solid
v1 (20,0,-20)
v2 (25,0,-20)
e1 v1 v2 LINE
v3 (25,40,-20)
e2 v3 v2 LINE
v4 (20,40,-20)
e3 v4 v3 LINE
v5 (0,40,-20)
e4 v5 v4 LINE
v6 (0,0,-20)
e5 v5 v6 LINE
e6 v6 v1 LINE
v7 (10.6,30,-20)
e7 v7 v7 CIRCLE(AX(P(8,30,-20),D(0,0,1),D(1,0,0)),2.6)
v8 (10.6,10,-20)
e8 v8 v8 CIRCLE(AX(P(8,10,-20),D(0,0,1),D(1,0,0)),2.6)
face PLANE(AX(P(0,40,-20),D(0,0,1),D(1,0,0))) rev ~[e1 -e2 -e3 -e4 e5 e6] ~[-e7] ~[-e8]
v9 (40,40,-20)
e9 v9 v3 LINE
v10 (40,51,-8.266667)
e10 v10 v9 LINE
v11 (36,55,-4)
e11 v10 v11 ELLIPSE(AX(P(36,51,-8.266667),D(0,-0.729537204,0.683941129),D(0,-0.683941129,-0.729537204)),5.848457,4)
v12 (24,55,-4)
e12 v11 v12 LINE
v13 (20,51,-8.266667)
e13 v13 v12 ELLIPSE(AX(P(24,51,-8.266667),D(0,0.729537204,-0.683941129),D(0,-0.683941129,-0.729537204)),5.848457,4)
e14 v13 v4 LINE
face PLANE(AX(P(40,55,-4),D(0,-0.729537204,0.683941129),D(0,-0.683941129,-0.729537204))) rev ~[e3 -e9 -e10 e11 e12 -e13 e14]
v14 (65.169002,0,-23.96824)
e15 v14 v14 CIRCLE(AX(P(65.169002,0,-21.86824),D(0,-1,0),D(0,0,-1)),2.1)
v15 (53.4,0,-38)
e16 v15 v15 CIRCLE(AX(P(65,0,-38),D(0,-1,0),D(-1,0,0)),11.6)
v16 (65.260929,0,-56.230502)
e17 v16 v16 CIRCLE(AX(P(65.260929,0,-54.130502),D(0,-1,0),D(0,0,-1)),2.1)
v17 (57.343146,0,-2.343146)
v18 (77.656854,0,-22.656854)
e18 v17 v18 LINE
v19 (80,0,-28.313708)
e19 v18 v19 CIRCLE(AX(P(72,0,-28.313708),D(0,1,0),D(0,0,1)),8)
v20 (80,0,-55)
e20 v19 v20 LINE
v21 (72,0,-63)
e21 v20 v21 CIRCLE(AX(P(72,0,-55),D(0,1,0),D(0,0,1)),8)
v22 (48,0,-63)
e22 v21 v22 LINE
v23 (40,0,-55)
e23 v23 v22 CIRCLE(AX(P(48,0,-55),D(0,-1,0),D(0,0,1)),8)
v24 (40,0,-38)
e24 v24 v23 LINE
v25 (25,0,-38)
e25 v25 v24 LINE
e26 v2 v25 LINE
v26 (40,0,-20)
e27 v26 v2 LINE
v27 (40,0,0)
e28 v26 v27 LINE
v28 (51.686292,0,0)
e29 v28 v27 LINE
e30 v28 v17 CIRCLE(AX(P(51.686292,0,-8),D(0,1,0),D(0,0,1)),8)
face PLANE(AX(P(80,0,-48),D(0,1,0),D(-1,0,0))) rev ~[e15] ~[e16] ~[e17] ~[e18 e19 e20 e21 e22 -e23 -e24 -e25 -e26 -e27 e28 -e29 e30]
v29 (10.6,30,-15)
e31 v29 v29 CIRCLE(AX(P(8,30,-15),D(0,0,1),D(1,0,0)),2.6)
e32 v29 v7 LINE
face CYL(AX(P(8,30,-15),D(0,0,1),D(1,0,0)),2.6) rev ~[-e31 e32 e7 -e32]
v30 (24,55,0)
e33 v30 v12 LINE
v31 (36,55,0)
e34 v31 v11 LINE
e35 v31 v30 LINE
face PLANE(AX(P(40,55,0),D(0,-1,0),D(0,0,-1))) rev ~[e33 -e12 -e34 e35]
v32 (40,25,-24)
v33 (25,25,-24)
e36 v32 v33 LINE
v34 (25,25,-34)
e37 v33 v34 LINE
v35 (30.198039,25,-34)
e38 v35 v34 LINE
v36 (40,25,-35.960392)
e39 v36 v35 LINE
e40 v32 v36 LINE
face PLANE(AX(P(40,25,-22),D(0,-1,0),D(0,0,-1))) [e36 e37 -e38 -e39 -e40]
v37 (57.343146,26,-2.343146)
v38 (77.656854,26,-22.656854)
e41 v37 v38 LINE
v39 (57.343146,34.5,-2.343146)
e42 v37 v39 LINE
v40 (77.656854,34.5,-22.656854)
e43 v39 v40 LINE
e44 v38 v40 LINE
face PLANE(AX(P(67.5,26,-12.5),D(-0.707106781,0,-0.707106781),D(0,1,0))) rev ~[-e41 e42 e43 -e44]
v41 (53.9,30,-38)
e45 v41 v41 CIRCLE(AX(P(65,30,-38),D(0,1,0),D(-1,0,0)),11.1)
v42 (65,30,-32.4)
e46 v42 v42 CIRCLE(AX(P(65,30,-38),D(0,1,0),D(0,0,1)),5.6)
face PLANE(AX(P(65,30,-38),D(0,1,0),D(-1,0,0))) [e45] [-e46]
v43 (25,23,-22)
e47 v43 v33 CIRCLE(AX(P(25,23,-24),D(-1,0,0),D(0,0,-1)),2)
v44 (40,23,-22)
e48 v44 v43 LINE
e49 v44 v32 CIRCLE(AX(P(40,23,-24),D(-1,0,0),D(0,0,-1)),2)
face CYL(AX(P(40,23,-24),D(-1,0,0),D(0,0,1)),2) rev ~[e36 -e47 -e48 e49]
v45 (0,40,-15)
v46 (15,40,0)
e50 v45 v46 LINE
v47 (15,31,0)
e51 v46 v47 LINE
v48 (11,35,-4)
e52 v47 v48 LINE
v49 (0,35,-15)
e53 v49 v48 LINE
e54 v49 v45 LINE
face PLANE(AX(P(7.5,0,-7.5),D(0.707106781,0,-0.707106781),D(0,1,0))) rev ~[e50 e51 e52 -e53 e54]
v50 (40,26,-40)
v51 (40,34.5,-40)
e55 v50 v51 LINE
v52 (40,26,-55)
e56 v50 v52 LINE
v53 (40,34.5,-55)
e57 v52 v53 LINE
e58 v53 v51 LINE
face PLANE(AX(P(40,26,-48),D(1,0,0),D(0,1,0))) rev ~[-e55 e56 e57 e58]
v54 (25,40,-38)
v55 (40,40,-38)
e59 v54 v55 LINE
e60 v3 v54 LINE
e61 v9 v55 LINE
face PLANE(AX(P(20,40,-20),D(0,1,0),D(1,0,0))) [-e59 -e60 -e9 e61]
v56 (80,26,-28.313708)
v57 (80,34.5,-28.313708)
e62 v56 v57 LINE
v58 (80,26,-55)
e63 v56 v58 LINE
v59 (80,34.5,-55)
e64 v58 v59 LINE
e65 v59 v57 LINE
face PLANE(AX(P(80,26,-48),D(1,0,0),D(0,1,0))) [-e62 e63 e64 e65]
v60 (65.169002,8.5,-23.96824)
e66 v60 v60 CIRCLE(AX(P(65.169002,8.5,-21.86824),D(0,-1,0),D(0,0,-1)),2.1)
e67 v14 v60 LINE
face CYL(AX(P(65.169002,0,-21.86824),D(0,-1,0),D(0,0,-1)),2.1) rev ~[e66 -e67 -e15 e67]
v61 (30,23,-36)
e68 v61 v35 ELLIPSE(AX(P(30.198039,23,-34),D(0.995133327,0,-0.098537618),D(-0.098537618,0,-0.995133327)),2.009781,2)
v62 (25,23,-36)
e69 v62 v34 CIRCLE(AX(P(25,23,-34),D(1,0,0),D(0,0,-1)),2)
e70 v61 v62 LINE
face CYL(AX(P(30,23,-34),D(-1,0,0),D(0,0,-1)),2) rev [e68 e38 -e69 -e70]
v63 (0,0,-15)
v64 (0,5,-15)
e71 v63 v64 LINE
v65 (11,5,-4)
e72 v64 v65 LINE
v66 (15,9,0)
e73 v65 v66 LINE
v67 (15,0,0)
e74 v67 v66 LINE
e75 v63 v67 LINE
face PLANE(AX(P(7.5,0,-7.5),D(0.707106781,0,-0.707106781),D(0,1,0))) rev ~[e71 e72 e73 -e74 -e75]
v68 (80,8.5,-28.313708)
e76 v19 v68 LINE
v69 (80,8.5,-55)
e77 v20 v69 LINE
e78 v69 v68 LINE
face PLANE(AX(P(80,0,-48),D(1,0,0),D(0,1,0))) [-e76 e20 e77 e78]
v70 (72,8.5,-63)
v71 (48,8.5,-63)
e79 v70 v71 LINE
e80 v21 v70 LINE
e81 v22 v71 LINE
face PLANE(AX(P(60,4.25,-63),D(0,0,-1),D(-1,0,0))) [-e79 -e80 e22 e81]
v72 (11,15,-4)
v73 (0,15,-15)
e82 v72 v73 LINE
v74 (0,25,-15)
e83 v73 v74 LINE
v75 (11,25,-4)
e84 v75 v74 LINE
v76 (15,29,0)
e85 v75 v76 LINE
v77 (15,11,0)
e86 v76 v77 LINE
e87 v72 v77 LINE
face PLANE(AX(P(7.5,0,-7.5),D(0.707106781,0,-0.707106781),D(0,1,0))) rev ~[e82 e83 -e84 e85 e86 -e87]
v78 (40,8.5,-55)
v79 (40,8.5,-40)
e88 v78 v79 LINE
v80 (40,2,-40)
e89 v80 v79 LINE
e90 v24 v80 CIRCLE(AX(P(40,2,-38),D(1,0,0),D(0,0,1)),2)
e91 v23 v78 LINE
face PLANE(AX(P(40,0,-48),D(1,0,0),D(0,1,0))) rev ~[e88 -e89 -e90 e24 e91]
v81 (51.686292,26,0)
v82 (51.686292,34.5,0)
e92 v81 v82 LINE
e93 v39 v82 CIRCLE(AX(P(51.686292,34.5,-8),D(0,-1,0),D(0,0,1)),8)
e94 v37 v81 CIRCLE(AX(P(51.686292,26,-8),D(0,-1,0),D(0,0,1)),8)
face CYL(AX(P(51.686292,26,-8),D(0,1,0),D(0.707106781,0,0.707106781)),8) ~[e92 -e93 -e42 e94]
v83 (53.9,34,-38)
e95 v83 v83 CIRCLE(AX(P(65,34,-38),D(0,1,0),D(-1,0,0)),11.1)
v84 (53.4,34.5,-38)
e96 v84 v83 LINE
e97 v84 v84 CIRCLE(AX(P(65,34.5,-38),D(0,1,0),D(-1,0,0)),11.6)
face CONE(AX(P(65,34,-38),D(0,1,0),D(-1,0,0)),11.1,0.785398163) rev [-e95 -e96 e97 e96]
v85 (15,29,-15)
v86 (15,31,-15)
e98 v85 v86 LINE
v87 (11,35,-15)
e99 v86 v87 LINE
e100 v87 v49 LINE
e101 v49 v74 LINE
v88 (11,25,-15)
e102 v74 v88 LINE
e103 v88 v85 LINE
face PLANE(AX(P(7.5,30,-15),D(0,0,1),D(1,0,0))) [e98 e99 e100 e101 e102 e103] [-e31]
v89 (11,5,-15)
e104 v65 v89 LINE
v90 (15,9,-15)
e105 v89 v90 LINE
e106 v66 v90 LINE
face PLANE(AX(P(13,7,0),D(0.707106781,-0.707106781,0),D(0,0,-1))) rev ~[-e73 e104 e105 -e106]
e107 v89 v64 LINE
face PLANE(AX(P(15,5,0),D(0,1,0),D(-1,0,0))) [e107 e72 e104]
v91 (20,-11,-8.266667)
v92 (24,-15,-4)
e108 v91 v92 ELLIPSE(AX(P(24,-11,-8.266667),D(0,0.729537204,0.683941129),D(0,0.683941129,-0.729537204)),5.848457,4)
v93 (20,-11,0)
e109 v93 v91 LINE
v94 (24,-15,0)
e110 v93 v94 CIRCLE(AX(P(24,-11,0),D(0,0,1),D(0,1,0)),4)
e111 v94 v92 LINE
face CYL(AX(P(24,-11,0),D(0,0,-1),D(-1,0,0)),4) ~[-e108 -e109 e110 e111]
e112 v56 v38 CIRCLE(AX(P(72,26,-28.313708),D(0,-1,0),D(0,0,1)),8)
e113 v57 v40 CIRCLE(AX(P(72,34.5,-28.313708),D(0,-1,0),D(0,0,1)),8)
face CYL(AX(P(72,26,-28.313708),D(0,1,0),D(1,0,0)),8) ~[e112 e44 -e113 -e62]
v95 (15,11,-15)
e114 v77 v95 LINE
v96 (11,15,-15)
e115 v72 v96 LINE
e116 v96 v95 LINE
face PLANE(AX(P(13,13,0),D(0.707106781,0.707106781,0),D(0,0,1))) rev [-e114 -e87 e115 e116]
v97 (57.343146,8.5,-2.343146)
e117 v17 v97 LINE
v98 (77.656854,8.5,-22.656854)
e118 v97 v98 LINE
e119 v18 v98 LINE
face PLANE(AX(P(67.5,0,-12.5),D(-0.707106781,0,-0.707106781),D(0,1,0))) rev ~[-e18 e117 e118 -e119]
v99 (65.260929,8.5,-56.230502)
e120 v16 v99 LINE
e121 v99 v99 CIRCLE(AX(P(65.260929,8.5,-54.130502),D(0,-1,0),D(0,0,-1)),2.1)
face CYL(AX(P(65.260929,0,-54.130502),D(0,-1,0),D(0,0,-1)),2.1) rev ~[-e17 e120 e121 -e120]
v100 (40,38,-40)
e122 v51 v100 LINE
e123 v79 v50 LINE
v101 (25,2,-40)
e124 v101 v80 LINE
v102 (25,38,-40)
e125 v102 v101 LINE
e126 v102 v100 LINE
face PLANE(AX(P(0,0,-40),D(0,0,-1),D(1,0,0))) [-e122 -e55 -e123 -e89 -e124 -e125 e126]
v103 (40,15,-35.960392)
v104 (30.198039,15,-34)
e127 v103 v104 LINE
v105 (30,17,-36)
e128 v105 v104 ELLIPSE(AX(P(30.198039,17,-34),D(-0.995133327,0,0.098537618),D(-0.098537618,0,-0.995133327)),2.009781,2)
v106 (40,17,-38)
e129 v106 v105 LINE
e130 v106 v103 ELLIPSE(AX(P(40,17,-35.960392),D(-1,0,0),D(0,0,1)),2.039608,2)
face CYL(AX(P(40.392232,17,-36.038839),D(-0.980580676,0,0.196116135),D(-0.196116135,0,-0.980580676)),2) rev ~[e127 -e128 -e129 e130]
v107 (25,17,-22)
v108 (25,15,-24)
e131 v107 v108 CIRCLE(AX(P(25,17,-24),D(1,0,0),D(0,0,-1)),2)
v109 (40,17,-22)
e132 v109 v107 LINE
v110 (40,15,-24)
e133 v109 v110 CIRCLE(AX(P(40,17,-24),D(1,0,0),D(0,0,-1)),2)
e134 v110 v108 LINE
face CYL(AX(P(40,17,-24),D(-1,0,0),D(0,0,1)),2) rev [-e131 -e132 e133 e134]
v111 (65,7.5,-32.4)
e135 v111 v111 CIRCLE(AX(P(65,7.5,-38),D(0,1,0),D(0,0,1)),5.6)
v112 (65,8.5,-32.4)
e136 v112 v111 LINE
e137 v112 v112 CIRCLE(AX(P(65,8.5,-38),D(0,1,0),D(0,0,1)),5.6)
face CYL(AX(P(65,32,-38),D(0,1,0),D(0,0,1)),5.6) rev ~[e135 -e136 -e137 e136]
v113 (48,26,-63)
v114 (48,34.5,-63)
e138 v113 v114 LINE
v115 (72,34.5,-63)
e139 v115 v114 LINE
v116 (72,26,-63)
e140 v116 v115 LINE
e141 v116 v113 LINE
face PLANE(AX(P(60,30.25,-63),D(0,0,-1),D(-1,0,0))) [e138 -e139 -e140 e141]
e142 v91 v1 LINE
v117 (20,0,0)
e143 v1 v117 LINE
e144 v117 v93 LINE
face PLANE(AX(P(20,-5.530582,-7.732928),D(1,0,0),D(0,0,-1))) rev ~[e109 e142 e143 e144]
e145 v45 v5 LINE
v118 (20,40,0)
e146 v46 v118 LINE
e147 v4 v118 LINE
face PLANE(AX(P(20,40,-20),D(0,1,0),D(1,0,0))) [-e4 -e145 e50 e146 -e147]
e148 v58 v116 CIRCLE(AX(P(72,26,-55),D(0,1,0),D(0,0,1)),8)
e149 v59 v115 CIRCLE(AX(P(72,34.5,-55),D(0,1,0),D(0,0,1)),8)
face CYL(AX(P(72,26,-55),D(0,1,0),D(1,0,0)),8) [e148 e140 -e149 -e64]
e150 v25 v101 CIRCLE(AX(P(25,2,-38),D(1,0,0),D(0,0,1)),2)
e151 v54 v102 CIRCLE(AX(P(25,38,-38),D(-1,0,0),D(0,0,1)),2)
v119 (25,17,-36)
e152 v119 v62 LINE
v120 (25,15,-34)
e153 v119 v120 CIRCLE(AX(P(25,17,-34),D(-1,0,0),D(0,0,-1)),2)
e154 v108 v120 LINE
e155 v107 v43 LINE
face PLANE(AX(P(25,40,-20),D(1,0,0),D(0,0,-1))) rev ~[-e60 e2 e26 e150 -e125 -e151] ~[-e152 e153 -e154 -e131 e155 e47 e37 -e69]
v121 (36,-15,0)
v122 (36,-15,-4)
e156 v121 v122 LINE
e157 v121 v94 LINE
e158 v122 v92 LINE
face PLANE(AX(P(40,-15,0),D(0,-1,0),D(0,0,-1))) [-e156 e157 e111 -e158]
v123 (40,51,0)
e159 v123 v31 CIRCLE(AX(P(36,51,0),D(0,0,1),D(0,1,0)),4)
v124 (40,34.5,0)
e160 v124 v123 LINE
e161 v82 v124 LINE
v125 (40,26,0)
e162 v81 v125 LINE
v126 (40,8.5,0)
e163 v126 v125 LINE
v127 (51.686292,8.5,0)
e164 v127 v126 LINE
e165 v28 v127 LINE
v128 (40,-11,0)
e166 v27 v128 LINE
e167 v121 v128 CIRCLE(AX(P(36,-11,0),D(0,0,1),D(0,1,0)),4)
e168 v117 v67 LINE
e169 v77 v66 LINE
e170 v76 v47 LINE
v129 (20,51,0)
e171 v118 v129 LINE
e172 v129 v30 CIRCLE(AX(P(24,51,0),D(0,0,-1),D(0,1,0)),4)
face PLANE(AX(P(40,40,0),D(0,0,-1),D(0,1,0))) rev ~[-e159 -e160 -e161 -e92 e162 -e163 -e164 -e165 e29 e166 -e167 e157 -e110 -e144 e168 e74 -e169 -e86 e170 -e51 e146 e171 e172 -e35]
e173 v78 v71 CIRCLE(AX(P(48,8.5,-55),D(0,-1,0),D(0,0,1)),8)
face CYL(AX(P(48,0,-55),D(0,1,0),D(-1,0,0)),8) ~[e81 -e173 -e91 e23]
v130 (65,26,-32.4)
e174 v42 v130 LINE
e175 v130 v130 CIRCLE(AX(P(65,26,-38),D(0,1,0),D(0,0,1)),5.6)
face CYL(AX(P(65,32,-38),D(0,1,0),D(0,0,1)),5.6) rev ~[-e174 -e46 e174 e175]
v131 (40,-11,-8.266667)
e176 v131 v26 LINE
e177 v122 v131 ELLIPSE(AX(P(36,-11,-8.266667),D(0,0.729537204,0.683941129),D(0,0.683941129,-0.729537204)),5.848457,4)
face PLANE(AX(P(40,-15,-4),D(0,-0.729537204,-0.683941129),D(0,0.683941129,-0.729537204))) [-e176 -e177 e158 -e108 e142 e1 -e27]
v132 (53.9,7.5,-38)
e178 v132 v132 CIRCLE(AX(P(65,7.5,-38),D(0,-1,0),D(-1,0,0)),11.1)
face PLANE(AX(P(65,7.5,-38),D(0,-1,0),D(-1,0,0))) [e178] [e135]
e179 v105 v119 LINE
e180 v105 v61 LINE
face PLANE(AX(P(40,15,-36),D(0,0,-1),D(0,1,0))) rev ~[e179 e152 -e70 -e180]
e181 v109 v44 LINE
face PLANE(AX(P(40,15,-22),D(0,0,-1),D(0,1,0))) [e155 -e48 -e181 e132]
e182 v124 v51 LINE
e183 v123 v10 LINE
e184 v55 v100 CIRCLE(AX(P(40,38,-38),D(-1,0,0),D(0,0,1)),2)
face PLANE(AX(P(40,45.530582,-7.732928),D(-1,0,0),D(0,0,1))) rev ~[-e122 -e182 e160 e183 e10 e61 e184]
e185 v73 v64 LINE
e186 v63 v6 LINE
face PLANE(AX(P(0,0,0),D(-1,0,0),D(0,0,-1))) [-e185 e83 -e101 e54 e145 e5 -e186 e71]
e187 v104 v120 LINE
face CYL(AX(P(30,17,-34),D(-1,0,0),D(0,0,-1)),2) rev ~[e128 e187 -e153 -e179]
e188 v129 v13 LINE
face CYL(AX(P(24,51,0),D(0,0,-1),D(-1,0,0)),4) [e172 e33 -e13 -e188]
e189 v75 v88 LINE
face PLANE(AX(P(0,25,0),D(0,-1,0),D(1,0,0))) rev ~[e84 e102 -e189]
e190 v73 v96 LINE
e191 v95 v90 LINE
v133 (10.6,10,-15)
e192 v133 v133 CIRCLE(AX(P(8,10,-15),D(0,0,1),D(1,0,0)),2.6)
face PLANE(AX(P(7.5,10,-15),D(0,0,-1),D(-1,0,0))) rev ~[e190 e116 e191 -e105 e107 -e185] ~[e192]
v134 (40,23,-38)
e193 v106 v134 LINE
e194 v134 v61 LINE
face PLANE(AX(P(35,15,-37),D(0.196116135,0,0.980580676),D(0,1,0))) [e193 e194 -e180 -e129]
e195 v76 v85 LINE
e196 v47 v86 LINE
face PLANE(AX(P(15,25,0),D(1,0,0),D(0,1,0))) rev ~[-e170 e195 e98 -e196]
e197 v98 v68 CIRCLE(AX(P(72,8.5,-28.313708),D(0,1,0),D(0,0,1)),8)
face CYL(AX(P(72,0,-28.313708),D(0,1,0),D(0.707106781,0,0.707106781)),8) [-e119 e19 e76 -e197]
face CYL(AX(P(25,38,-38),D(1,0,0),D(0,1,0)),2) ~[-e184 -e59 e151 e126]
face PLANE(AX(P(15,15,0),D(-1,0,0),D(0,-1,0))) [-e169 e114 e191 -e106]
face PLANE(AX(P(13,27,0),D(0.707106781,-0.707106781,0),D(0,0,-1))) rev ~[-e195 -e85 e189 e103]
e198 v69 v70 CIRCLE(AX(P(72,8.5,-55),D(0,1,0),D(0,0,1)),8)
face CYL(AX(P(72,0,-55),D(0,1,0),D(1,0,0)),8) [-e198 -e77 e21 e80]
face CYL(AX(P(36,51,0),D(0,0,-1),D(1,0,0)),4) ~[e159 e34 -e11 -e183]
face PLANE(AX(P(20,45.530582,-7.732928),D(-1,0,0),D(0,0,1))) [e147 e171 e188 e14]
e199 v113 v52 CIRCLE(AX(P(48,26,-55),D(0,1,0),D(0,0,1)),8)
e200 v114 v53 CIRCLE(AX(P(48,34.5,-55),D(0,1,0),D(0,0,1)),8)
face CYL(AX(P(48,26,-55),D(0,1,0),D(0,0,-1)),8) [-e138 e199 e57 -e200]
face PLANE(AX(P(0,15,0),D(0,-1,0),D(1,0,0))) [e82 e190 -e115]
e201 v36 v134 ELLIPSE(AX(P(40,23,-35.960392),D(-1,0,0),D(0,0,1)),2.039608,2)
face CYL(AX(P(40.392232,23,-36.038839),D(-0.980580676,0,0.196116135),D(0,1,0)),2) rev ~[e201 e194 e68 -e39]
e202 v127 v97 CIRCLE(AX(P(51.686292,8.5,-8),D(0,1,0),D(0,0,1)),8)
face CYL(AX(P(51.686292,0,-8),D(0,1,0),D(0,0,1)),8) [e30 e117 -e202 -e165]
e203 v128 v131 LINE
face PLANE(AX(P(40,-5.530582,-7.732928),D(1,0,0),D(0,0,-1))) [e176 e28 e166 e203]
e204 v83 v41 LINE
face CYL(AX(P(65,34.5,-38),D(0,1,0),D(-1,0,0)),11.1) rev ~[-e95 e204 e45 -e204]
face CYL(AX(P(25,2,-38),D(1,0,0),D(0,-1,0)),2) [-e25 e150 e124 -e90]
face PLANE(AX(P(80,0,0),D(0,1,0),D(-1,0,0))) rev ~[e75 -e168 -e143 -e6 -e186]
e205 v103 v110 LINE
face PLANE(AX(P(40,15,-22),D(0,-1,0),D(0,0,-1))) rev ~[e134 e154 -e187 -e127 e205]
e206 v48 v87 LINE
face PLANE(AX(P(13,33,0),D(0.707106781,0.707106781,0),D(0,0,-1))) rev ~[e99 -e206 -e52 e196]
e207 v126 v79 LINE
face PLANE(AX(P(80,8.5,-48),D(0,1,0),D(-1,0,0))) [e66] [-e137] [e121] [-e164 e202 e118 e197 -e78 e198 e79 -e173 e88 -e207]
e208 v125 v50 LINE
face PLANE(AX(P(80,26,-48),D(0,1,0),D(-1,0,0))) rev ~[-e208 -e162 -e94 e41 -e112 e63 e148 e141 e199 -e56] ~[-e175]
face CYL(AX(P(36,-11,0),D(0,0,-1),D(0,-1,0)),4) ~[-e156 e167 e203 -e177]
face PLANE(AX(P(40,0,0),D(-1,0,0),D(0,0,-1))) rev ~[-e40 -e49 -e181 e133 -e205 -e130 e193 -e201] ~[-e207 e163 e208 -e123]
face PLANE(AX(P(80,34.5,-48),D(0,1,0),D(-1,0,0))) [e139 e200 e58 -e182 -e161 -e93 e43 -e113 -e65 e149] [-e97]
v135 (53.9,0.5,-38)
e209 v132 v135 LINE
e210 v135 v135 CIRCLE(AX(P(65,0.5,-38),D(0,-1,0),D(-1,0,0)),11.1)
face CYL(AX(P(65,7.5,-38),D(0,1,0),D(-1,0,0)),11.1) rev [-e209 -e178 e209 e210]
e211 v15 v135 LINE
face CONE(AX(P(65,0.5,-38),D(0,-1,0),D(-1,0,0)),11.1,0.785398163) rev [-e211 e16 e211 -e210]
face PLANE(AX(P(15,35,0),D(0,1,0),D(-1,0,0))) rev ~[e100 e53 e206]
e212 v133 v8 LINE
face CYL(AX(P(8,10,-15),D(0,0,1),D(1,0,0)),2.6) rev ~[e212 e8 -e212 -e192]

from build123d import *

# Parameters (mm, degrees)
SKETCH1_W                = 40
SKETCH1_H                = 40
BOSS_EXTRUDE1_DEPTH      = 40
SKETCH2_W                = 25
SKETCH2_H                = 20
CUT_EXTRUDE1_DEPTH       = 40
CHAMFER1_SIZE            = 15
CUT_EXTRUDE2_DEPTH       = 15
CHAMFER2_SIZE            = 4
SKETCH4_R                = 2.6
CUT_EXTRUDE3_DEPTH       = 17
BOSS_EXTRUDE2_DEPTH      = 8
BOSS_EXTRUDE2_DEPTH_BACK = 40
SKETCH5_W                = 40
SKETCH5_H                = 8.5
SKETCH10_W               = 14
SKETCH10_H               = 10
CUT_EXTRUDE5_DEPTH       = 26
SKETCH8_R                = 5.6
CUT_EXTRUDE4_DEPTH       = 34
BOSS_EXTRUDE3_DEPTH      = 20
FILLET3_R                = 4
FILLET4_R                = 2
CHAMFER7_SIZE            = 25
CHAMFER8_SIZE            = 2
CHAMFER8_SIZE2           = 10
FILLET7_R                = 2
SKETCH14_W               = 40
SKETCH14_H               = 8.5
BOSS_EXTRUDE4_DEPTH      = 15
SKETCH16_W               = 40
SKETCH16_H               = 8.5
BOSS_EXTRUDE5_DEPTH      = 15
SKETCH12_R               = 11.1
CUT_EXTRUDE6_DEPTH       = 4.5
CUT_EXTRUDE7_START       = -7.5
SKETCH13_R               = 11.1
CUT_EXTRUDE7_DEPTH       = 7.5
SKETCH15_R               = 2.1
CUT_EXTRUDE8_DEPTH       = 10
CHAMFER10_SIZE           = 0.5
FILLET8_R                = 8


with BuildPart() as part:
    # Sketch1 → Boss-Extrude1 (new body)
    with BuildSketch(Plane(origin=(0, 0, 0), x_dir=(1, 0, 0), z_dir=(0, 1, 0))):
        with Locations((20, 20)):
            Rectangle(SKETCH1_W, SKETCH1_H)
    extrude(amount=BOSS_EXTRUDE1_DEPTH)

    # Sketch2 → Cut-Extrude1 (cut)
    with BuildSketch(Plane(origin=(0, 40, 0), x_dir=(1, 0, 0), z_dir=(0, 1, 0))):
        with Locations((12.5, 30)):
            Rectangle(SKETCH2_W, SKETCH2_H)
    extrude(amount=-CUT_EXTRUDE1_DEPTH, mode=Mode.SUBTRACT)

    # Chamfer1
    chamfer1_edges = [part.edges().sort_by_distance(p)[0] for p in [
        (0, 20, 0),
    ]]
    chamfer(chamfer1_edges, length=CHAMFER1_SIZE)

    # Sketch3 → Cut-Extrude2 (cut)
    with BuildSketch(Plane.XY):
        Polygon((0, 10), (0, 15), (15, 15), (15, 5), (0, 5), align=None)
        Polygon((0, 30), (0, 25), (15, 25), (15, 35), (0, 35), align=None)
    extrude(amount=-CUT_EXTRUDE2_DEPTH, mode=Mode.SUBTRACT)

    # Chamfer2
    chamfer2_edges = [part.edges().sort_by_distance(p)[0] for p in [
        (15, 35, -7.5),
        (15, 25, -7.5),
        (15, 15, -7.5),
        (15, 5, -7.5),
    ]]
    chamfer(chamfer2_edges, length=CHAMFER2_SIZE)

    # Sketch4 → Cut-Extrude3 (cut)
    with BuildSketch(Plane.XY.offset(-15)):
        with Locations((8, 30)):
            Circle(SKETCH4_R)
        with Locations((8, 10)):
            Circle(SKETCH4_R)
    extrude(amount=-CUT_EXTRUDE3_DEPTH, mode=Mode.SUBTRACT)

    # Sketch5 → Boss-Extrude2 (add, two sides: drawn at the far end of the back side and taken through both)
    with BuildSketch(Plane(origin=(0, 0, -40), x_dir=(-1, 0, 0), z_dir=(0, 0, -1)).offset(-BOSS_EXTRUDE2_DEPTH_BACK)):
        with Locations((-60, 4.25)):
            Rectangle(SKETCH5_W, SKETCH5_H)
        with Locations((-60, 30.25)):
            Rectangle(SKETCH5_W, SKETCH5_H)
    extrude(amount=BOSS_EXTRUDE2_DEPTH + BOSS_EXTRUDE2_DEPTH_BACK)

    # Sketch10 → Cut-Extrude5 (cut)
    with BuildSketch(Plane(origin=(40, 0, 0), x_dir=(0, 0, -1), z_dir=(1, 0, 0))):
        with Locations((29, 20)):
            Rectangle(SKETCH10_W, SKETCH10_H)
    extrude(amount=-CUT_EXTRUDE5_DEPTH, mode=Mode.SUBTRACT)

    # Sketch8 → Cut-Extrude4 (cut)
    with BuildSketch(Plane(origin=(0, 32, 0), x_dir=(1, 0, 0), z_dir=(0, 1, 0))):
        with Locations(Location((65, 38, 0), (0, 0, 270))):
            Circle(SKETCH8_R)
    extrude(amount=-CUT_EXTRUDE4_DEPTH, mode=Mode.SUBTRACT)

    # Sketch9 → Boss-Extrude3 (add)
    with BuildSketch(Plane(origin=(40, 0, 0), x_dir=(0, 0, -1), z_dir=(1, 0, 0))):
        Polygon((0, 40), (0, 55), (4, 55), (20, 40), align=None)
        Polygon((0, 0), (0, -15), (4, -15), (20, 0), align=None)
    extrude(amount=-BOSS_EXTRUDE3_DEPTH)

    # Fillet3
    fillet3_edges = [part.edges().sort_by_distance(p)[0] for p in [
        (20, 55, -2),
        (40, 55, -2),
        (20, -15, -2),
        (40, -15, -2),
    ]]
    fillet(fillet3_edges, radius=FILLET3_R)

    # Fillet4
    fillet4_edges = [part.edges().sort_by_distance(p)[0] for p in [
        (32.5, 40, -40),
        (32.5, 0, -40),
    ]]
    fillet(fillet4_edges, radius=FILLET4_R)

    # Chamfer7
    chamfer7_edges = [part.edges().sort_by_distance(p)[0] for p in [
        (80, 4.25, 0),
        (80, 30.25, 0),
    ]]
    chamfer(chamfer7_edges, length=CHAMFER7_SIZE)

    # Chamfer8
    chamfer8_edges = [part.edges().sort_by_distance(p)[0] for p in [
        (40, 20, -36),
    ]]
    chamfer8_side = [part.faces().sort_by_distance(p)[0] for p in [
        (40, 16.5625, -17.75),
    ]]
    chamfer(chamfer8_edges, length=CHAMFER8_SIZE, length2=CHAMFER8_SIZE2, reference=chamfer8_side[0])

    # Fillet7
    fillet7_edges = [part.edges().sort_by_distance(p)[0] for p in [
        (27.5, 15, -36),
        (32.5, 15, -22),
        (32.5, 25, -22),
        (27.5, 25, -36),
        (35, 25, -37),
        (35, 15, -37),
    ]]
    fillet(fillet7_edges, radius=FILLET7_R)

    # Sketch14 → Boss-Extrude4 (add)
    with BuildSketch(Plane(origin=(0, 0, -48), x_dir=(-1, 0, 0), z_dir=(0, 0, -1))):
        with Locations((-60, 4.25)):
            Rectangle(SKETCH14_W, SKETCH14_H)
    extrude(amount=BOSS_EXTRUDE4_DEPTH)

    # Sketch16 → Boss-Extrude5 (add)
    with BuildSketch(Plane(origin=(0, 0, -48), x_dir=(-1, 0, 0), z_dir=(0, 0, -1))):
        with Locations((-60, 30.25)):
            Rectangle(SKETCH16_W, SKETCH16_H)
    extrude(amount=BOSS_EXTRUDE5_DEPTH)

    # Sketch12 → Cut-Extrude6 (cut)
    with BuildSketch(Plane(origin=(0, 34.5, 0), x_dir=(1, 0, 0), z_dir=(0, 1, 0))):
        with Locations(Location((65, 38, 0), (0, 0, 180))):
            Circle(SKETCH12_R)
    extrude(amount=-CUT_EXTRUDE6_DEPTH, mode=Mode.SUBTRACT)

    # Sketch13 → Cut-Extrude7 (cut)
    with BuildSketch(Plane.XZ.offset(CUT_EXTRUDE7_START)):
        with Locations(Location((65, -38, 0), (0, 0, 180))):
            Circle(SKETCH13_R)
    extrude(amount=CUT_EXTRUDE7_DEPTH, mode=Mode.SUBTRACT)

    # Sketch15 → Cut-Extrude8 (cut)
    with BuildSketch(Plane.XZ):
        with Locations(Location((65.260929409, -54.130501699, 0), (0, 0, 270))):
            Circle(SKETCH15_R)
        with Locations(Location((65.16900186, -21.868239994, 0), (0, 0, 270))):
            Circle(SKETCH15_R)
    extrude(amount=-CUT_EXTRUDE8_DEPTH, mode=Mode.SUBTRACT)

    # Chamfer10
    chamfer10_edges = [part.edges().sort_by_distance(p)[0] for p in [
        (76.1, 34.5, -38),
        (76.1, 0, -38),
    ]]
    chamfer(chamfer10_edges, length=CHAMFER10_SIZE)

    # Fillet8
    fillet8_edges = [part.edges().sort_by_distance(p)[0] for p in [
        (55, 30.25, 0),
        (55, 4.25, 0),
        (80, 4.25, -25),
        (80, 30.25, -25),
        (80, 4.25, -63),
        (40, 4.25, -63),
        (80, 30.25, -63),
        (40, 30.25, -63),
    ]]
    fillet(fillet8_edges, radius=FILLET8_R)


solid = part.part
